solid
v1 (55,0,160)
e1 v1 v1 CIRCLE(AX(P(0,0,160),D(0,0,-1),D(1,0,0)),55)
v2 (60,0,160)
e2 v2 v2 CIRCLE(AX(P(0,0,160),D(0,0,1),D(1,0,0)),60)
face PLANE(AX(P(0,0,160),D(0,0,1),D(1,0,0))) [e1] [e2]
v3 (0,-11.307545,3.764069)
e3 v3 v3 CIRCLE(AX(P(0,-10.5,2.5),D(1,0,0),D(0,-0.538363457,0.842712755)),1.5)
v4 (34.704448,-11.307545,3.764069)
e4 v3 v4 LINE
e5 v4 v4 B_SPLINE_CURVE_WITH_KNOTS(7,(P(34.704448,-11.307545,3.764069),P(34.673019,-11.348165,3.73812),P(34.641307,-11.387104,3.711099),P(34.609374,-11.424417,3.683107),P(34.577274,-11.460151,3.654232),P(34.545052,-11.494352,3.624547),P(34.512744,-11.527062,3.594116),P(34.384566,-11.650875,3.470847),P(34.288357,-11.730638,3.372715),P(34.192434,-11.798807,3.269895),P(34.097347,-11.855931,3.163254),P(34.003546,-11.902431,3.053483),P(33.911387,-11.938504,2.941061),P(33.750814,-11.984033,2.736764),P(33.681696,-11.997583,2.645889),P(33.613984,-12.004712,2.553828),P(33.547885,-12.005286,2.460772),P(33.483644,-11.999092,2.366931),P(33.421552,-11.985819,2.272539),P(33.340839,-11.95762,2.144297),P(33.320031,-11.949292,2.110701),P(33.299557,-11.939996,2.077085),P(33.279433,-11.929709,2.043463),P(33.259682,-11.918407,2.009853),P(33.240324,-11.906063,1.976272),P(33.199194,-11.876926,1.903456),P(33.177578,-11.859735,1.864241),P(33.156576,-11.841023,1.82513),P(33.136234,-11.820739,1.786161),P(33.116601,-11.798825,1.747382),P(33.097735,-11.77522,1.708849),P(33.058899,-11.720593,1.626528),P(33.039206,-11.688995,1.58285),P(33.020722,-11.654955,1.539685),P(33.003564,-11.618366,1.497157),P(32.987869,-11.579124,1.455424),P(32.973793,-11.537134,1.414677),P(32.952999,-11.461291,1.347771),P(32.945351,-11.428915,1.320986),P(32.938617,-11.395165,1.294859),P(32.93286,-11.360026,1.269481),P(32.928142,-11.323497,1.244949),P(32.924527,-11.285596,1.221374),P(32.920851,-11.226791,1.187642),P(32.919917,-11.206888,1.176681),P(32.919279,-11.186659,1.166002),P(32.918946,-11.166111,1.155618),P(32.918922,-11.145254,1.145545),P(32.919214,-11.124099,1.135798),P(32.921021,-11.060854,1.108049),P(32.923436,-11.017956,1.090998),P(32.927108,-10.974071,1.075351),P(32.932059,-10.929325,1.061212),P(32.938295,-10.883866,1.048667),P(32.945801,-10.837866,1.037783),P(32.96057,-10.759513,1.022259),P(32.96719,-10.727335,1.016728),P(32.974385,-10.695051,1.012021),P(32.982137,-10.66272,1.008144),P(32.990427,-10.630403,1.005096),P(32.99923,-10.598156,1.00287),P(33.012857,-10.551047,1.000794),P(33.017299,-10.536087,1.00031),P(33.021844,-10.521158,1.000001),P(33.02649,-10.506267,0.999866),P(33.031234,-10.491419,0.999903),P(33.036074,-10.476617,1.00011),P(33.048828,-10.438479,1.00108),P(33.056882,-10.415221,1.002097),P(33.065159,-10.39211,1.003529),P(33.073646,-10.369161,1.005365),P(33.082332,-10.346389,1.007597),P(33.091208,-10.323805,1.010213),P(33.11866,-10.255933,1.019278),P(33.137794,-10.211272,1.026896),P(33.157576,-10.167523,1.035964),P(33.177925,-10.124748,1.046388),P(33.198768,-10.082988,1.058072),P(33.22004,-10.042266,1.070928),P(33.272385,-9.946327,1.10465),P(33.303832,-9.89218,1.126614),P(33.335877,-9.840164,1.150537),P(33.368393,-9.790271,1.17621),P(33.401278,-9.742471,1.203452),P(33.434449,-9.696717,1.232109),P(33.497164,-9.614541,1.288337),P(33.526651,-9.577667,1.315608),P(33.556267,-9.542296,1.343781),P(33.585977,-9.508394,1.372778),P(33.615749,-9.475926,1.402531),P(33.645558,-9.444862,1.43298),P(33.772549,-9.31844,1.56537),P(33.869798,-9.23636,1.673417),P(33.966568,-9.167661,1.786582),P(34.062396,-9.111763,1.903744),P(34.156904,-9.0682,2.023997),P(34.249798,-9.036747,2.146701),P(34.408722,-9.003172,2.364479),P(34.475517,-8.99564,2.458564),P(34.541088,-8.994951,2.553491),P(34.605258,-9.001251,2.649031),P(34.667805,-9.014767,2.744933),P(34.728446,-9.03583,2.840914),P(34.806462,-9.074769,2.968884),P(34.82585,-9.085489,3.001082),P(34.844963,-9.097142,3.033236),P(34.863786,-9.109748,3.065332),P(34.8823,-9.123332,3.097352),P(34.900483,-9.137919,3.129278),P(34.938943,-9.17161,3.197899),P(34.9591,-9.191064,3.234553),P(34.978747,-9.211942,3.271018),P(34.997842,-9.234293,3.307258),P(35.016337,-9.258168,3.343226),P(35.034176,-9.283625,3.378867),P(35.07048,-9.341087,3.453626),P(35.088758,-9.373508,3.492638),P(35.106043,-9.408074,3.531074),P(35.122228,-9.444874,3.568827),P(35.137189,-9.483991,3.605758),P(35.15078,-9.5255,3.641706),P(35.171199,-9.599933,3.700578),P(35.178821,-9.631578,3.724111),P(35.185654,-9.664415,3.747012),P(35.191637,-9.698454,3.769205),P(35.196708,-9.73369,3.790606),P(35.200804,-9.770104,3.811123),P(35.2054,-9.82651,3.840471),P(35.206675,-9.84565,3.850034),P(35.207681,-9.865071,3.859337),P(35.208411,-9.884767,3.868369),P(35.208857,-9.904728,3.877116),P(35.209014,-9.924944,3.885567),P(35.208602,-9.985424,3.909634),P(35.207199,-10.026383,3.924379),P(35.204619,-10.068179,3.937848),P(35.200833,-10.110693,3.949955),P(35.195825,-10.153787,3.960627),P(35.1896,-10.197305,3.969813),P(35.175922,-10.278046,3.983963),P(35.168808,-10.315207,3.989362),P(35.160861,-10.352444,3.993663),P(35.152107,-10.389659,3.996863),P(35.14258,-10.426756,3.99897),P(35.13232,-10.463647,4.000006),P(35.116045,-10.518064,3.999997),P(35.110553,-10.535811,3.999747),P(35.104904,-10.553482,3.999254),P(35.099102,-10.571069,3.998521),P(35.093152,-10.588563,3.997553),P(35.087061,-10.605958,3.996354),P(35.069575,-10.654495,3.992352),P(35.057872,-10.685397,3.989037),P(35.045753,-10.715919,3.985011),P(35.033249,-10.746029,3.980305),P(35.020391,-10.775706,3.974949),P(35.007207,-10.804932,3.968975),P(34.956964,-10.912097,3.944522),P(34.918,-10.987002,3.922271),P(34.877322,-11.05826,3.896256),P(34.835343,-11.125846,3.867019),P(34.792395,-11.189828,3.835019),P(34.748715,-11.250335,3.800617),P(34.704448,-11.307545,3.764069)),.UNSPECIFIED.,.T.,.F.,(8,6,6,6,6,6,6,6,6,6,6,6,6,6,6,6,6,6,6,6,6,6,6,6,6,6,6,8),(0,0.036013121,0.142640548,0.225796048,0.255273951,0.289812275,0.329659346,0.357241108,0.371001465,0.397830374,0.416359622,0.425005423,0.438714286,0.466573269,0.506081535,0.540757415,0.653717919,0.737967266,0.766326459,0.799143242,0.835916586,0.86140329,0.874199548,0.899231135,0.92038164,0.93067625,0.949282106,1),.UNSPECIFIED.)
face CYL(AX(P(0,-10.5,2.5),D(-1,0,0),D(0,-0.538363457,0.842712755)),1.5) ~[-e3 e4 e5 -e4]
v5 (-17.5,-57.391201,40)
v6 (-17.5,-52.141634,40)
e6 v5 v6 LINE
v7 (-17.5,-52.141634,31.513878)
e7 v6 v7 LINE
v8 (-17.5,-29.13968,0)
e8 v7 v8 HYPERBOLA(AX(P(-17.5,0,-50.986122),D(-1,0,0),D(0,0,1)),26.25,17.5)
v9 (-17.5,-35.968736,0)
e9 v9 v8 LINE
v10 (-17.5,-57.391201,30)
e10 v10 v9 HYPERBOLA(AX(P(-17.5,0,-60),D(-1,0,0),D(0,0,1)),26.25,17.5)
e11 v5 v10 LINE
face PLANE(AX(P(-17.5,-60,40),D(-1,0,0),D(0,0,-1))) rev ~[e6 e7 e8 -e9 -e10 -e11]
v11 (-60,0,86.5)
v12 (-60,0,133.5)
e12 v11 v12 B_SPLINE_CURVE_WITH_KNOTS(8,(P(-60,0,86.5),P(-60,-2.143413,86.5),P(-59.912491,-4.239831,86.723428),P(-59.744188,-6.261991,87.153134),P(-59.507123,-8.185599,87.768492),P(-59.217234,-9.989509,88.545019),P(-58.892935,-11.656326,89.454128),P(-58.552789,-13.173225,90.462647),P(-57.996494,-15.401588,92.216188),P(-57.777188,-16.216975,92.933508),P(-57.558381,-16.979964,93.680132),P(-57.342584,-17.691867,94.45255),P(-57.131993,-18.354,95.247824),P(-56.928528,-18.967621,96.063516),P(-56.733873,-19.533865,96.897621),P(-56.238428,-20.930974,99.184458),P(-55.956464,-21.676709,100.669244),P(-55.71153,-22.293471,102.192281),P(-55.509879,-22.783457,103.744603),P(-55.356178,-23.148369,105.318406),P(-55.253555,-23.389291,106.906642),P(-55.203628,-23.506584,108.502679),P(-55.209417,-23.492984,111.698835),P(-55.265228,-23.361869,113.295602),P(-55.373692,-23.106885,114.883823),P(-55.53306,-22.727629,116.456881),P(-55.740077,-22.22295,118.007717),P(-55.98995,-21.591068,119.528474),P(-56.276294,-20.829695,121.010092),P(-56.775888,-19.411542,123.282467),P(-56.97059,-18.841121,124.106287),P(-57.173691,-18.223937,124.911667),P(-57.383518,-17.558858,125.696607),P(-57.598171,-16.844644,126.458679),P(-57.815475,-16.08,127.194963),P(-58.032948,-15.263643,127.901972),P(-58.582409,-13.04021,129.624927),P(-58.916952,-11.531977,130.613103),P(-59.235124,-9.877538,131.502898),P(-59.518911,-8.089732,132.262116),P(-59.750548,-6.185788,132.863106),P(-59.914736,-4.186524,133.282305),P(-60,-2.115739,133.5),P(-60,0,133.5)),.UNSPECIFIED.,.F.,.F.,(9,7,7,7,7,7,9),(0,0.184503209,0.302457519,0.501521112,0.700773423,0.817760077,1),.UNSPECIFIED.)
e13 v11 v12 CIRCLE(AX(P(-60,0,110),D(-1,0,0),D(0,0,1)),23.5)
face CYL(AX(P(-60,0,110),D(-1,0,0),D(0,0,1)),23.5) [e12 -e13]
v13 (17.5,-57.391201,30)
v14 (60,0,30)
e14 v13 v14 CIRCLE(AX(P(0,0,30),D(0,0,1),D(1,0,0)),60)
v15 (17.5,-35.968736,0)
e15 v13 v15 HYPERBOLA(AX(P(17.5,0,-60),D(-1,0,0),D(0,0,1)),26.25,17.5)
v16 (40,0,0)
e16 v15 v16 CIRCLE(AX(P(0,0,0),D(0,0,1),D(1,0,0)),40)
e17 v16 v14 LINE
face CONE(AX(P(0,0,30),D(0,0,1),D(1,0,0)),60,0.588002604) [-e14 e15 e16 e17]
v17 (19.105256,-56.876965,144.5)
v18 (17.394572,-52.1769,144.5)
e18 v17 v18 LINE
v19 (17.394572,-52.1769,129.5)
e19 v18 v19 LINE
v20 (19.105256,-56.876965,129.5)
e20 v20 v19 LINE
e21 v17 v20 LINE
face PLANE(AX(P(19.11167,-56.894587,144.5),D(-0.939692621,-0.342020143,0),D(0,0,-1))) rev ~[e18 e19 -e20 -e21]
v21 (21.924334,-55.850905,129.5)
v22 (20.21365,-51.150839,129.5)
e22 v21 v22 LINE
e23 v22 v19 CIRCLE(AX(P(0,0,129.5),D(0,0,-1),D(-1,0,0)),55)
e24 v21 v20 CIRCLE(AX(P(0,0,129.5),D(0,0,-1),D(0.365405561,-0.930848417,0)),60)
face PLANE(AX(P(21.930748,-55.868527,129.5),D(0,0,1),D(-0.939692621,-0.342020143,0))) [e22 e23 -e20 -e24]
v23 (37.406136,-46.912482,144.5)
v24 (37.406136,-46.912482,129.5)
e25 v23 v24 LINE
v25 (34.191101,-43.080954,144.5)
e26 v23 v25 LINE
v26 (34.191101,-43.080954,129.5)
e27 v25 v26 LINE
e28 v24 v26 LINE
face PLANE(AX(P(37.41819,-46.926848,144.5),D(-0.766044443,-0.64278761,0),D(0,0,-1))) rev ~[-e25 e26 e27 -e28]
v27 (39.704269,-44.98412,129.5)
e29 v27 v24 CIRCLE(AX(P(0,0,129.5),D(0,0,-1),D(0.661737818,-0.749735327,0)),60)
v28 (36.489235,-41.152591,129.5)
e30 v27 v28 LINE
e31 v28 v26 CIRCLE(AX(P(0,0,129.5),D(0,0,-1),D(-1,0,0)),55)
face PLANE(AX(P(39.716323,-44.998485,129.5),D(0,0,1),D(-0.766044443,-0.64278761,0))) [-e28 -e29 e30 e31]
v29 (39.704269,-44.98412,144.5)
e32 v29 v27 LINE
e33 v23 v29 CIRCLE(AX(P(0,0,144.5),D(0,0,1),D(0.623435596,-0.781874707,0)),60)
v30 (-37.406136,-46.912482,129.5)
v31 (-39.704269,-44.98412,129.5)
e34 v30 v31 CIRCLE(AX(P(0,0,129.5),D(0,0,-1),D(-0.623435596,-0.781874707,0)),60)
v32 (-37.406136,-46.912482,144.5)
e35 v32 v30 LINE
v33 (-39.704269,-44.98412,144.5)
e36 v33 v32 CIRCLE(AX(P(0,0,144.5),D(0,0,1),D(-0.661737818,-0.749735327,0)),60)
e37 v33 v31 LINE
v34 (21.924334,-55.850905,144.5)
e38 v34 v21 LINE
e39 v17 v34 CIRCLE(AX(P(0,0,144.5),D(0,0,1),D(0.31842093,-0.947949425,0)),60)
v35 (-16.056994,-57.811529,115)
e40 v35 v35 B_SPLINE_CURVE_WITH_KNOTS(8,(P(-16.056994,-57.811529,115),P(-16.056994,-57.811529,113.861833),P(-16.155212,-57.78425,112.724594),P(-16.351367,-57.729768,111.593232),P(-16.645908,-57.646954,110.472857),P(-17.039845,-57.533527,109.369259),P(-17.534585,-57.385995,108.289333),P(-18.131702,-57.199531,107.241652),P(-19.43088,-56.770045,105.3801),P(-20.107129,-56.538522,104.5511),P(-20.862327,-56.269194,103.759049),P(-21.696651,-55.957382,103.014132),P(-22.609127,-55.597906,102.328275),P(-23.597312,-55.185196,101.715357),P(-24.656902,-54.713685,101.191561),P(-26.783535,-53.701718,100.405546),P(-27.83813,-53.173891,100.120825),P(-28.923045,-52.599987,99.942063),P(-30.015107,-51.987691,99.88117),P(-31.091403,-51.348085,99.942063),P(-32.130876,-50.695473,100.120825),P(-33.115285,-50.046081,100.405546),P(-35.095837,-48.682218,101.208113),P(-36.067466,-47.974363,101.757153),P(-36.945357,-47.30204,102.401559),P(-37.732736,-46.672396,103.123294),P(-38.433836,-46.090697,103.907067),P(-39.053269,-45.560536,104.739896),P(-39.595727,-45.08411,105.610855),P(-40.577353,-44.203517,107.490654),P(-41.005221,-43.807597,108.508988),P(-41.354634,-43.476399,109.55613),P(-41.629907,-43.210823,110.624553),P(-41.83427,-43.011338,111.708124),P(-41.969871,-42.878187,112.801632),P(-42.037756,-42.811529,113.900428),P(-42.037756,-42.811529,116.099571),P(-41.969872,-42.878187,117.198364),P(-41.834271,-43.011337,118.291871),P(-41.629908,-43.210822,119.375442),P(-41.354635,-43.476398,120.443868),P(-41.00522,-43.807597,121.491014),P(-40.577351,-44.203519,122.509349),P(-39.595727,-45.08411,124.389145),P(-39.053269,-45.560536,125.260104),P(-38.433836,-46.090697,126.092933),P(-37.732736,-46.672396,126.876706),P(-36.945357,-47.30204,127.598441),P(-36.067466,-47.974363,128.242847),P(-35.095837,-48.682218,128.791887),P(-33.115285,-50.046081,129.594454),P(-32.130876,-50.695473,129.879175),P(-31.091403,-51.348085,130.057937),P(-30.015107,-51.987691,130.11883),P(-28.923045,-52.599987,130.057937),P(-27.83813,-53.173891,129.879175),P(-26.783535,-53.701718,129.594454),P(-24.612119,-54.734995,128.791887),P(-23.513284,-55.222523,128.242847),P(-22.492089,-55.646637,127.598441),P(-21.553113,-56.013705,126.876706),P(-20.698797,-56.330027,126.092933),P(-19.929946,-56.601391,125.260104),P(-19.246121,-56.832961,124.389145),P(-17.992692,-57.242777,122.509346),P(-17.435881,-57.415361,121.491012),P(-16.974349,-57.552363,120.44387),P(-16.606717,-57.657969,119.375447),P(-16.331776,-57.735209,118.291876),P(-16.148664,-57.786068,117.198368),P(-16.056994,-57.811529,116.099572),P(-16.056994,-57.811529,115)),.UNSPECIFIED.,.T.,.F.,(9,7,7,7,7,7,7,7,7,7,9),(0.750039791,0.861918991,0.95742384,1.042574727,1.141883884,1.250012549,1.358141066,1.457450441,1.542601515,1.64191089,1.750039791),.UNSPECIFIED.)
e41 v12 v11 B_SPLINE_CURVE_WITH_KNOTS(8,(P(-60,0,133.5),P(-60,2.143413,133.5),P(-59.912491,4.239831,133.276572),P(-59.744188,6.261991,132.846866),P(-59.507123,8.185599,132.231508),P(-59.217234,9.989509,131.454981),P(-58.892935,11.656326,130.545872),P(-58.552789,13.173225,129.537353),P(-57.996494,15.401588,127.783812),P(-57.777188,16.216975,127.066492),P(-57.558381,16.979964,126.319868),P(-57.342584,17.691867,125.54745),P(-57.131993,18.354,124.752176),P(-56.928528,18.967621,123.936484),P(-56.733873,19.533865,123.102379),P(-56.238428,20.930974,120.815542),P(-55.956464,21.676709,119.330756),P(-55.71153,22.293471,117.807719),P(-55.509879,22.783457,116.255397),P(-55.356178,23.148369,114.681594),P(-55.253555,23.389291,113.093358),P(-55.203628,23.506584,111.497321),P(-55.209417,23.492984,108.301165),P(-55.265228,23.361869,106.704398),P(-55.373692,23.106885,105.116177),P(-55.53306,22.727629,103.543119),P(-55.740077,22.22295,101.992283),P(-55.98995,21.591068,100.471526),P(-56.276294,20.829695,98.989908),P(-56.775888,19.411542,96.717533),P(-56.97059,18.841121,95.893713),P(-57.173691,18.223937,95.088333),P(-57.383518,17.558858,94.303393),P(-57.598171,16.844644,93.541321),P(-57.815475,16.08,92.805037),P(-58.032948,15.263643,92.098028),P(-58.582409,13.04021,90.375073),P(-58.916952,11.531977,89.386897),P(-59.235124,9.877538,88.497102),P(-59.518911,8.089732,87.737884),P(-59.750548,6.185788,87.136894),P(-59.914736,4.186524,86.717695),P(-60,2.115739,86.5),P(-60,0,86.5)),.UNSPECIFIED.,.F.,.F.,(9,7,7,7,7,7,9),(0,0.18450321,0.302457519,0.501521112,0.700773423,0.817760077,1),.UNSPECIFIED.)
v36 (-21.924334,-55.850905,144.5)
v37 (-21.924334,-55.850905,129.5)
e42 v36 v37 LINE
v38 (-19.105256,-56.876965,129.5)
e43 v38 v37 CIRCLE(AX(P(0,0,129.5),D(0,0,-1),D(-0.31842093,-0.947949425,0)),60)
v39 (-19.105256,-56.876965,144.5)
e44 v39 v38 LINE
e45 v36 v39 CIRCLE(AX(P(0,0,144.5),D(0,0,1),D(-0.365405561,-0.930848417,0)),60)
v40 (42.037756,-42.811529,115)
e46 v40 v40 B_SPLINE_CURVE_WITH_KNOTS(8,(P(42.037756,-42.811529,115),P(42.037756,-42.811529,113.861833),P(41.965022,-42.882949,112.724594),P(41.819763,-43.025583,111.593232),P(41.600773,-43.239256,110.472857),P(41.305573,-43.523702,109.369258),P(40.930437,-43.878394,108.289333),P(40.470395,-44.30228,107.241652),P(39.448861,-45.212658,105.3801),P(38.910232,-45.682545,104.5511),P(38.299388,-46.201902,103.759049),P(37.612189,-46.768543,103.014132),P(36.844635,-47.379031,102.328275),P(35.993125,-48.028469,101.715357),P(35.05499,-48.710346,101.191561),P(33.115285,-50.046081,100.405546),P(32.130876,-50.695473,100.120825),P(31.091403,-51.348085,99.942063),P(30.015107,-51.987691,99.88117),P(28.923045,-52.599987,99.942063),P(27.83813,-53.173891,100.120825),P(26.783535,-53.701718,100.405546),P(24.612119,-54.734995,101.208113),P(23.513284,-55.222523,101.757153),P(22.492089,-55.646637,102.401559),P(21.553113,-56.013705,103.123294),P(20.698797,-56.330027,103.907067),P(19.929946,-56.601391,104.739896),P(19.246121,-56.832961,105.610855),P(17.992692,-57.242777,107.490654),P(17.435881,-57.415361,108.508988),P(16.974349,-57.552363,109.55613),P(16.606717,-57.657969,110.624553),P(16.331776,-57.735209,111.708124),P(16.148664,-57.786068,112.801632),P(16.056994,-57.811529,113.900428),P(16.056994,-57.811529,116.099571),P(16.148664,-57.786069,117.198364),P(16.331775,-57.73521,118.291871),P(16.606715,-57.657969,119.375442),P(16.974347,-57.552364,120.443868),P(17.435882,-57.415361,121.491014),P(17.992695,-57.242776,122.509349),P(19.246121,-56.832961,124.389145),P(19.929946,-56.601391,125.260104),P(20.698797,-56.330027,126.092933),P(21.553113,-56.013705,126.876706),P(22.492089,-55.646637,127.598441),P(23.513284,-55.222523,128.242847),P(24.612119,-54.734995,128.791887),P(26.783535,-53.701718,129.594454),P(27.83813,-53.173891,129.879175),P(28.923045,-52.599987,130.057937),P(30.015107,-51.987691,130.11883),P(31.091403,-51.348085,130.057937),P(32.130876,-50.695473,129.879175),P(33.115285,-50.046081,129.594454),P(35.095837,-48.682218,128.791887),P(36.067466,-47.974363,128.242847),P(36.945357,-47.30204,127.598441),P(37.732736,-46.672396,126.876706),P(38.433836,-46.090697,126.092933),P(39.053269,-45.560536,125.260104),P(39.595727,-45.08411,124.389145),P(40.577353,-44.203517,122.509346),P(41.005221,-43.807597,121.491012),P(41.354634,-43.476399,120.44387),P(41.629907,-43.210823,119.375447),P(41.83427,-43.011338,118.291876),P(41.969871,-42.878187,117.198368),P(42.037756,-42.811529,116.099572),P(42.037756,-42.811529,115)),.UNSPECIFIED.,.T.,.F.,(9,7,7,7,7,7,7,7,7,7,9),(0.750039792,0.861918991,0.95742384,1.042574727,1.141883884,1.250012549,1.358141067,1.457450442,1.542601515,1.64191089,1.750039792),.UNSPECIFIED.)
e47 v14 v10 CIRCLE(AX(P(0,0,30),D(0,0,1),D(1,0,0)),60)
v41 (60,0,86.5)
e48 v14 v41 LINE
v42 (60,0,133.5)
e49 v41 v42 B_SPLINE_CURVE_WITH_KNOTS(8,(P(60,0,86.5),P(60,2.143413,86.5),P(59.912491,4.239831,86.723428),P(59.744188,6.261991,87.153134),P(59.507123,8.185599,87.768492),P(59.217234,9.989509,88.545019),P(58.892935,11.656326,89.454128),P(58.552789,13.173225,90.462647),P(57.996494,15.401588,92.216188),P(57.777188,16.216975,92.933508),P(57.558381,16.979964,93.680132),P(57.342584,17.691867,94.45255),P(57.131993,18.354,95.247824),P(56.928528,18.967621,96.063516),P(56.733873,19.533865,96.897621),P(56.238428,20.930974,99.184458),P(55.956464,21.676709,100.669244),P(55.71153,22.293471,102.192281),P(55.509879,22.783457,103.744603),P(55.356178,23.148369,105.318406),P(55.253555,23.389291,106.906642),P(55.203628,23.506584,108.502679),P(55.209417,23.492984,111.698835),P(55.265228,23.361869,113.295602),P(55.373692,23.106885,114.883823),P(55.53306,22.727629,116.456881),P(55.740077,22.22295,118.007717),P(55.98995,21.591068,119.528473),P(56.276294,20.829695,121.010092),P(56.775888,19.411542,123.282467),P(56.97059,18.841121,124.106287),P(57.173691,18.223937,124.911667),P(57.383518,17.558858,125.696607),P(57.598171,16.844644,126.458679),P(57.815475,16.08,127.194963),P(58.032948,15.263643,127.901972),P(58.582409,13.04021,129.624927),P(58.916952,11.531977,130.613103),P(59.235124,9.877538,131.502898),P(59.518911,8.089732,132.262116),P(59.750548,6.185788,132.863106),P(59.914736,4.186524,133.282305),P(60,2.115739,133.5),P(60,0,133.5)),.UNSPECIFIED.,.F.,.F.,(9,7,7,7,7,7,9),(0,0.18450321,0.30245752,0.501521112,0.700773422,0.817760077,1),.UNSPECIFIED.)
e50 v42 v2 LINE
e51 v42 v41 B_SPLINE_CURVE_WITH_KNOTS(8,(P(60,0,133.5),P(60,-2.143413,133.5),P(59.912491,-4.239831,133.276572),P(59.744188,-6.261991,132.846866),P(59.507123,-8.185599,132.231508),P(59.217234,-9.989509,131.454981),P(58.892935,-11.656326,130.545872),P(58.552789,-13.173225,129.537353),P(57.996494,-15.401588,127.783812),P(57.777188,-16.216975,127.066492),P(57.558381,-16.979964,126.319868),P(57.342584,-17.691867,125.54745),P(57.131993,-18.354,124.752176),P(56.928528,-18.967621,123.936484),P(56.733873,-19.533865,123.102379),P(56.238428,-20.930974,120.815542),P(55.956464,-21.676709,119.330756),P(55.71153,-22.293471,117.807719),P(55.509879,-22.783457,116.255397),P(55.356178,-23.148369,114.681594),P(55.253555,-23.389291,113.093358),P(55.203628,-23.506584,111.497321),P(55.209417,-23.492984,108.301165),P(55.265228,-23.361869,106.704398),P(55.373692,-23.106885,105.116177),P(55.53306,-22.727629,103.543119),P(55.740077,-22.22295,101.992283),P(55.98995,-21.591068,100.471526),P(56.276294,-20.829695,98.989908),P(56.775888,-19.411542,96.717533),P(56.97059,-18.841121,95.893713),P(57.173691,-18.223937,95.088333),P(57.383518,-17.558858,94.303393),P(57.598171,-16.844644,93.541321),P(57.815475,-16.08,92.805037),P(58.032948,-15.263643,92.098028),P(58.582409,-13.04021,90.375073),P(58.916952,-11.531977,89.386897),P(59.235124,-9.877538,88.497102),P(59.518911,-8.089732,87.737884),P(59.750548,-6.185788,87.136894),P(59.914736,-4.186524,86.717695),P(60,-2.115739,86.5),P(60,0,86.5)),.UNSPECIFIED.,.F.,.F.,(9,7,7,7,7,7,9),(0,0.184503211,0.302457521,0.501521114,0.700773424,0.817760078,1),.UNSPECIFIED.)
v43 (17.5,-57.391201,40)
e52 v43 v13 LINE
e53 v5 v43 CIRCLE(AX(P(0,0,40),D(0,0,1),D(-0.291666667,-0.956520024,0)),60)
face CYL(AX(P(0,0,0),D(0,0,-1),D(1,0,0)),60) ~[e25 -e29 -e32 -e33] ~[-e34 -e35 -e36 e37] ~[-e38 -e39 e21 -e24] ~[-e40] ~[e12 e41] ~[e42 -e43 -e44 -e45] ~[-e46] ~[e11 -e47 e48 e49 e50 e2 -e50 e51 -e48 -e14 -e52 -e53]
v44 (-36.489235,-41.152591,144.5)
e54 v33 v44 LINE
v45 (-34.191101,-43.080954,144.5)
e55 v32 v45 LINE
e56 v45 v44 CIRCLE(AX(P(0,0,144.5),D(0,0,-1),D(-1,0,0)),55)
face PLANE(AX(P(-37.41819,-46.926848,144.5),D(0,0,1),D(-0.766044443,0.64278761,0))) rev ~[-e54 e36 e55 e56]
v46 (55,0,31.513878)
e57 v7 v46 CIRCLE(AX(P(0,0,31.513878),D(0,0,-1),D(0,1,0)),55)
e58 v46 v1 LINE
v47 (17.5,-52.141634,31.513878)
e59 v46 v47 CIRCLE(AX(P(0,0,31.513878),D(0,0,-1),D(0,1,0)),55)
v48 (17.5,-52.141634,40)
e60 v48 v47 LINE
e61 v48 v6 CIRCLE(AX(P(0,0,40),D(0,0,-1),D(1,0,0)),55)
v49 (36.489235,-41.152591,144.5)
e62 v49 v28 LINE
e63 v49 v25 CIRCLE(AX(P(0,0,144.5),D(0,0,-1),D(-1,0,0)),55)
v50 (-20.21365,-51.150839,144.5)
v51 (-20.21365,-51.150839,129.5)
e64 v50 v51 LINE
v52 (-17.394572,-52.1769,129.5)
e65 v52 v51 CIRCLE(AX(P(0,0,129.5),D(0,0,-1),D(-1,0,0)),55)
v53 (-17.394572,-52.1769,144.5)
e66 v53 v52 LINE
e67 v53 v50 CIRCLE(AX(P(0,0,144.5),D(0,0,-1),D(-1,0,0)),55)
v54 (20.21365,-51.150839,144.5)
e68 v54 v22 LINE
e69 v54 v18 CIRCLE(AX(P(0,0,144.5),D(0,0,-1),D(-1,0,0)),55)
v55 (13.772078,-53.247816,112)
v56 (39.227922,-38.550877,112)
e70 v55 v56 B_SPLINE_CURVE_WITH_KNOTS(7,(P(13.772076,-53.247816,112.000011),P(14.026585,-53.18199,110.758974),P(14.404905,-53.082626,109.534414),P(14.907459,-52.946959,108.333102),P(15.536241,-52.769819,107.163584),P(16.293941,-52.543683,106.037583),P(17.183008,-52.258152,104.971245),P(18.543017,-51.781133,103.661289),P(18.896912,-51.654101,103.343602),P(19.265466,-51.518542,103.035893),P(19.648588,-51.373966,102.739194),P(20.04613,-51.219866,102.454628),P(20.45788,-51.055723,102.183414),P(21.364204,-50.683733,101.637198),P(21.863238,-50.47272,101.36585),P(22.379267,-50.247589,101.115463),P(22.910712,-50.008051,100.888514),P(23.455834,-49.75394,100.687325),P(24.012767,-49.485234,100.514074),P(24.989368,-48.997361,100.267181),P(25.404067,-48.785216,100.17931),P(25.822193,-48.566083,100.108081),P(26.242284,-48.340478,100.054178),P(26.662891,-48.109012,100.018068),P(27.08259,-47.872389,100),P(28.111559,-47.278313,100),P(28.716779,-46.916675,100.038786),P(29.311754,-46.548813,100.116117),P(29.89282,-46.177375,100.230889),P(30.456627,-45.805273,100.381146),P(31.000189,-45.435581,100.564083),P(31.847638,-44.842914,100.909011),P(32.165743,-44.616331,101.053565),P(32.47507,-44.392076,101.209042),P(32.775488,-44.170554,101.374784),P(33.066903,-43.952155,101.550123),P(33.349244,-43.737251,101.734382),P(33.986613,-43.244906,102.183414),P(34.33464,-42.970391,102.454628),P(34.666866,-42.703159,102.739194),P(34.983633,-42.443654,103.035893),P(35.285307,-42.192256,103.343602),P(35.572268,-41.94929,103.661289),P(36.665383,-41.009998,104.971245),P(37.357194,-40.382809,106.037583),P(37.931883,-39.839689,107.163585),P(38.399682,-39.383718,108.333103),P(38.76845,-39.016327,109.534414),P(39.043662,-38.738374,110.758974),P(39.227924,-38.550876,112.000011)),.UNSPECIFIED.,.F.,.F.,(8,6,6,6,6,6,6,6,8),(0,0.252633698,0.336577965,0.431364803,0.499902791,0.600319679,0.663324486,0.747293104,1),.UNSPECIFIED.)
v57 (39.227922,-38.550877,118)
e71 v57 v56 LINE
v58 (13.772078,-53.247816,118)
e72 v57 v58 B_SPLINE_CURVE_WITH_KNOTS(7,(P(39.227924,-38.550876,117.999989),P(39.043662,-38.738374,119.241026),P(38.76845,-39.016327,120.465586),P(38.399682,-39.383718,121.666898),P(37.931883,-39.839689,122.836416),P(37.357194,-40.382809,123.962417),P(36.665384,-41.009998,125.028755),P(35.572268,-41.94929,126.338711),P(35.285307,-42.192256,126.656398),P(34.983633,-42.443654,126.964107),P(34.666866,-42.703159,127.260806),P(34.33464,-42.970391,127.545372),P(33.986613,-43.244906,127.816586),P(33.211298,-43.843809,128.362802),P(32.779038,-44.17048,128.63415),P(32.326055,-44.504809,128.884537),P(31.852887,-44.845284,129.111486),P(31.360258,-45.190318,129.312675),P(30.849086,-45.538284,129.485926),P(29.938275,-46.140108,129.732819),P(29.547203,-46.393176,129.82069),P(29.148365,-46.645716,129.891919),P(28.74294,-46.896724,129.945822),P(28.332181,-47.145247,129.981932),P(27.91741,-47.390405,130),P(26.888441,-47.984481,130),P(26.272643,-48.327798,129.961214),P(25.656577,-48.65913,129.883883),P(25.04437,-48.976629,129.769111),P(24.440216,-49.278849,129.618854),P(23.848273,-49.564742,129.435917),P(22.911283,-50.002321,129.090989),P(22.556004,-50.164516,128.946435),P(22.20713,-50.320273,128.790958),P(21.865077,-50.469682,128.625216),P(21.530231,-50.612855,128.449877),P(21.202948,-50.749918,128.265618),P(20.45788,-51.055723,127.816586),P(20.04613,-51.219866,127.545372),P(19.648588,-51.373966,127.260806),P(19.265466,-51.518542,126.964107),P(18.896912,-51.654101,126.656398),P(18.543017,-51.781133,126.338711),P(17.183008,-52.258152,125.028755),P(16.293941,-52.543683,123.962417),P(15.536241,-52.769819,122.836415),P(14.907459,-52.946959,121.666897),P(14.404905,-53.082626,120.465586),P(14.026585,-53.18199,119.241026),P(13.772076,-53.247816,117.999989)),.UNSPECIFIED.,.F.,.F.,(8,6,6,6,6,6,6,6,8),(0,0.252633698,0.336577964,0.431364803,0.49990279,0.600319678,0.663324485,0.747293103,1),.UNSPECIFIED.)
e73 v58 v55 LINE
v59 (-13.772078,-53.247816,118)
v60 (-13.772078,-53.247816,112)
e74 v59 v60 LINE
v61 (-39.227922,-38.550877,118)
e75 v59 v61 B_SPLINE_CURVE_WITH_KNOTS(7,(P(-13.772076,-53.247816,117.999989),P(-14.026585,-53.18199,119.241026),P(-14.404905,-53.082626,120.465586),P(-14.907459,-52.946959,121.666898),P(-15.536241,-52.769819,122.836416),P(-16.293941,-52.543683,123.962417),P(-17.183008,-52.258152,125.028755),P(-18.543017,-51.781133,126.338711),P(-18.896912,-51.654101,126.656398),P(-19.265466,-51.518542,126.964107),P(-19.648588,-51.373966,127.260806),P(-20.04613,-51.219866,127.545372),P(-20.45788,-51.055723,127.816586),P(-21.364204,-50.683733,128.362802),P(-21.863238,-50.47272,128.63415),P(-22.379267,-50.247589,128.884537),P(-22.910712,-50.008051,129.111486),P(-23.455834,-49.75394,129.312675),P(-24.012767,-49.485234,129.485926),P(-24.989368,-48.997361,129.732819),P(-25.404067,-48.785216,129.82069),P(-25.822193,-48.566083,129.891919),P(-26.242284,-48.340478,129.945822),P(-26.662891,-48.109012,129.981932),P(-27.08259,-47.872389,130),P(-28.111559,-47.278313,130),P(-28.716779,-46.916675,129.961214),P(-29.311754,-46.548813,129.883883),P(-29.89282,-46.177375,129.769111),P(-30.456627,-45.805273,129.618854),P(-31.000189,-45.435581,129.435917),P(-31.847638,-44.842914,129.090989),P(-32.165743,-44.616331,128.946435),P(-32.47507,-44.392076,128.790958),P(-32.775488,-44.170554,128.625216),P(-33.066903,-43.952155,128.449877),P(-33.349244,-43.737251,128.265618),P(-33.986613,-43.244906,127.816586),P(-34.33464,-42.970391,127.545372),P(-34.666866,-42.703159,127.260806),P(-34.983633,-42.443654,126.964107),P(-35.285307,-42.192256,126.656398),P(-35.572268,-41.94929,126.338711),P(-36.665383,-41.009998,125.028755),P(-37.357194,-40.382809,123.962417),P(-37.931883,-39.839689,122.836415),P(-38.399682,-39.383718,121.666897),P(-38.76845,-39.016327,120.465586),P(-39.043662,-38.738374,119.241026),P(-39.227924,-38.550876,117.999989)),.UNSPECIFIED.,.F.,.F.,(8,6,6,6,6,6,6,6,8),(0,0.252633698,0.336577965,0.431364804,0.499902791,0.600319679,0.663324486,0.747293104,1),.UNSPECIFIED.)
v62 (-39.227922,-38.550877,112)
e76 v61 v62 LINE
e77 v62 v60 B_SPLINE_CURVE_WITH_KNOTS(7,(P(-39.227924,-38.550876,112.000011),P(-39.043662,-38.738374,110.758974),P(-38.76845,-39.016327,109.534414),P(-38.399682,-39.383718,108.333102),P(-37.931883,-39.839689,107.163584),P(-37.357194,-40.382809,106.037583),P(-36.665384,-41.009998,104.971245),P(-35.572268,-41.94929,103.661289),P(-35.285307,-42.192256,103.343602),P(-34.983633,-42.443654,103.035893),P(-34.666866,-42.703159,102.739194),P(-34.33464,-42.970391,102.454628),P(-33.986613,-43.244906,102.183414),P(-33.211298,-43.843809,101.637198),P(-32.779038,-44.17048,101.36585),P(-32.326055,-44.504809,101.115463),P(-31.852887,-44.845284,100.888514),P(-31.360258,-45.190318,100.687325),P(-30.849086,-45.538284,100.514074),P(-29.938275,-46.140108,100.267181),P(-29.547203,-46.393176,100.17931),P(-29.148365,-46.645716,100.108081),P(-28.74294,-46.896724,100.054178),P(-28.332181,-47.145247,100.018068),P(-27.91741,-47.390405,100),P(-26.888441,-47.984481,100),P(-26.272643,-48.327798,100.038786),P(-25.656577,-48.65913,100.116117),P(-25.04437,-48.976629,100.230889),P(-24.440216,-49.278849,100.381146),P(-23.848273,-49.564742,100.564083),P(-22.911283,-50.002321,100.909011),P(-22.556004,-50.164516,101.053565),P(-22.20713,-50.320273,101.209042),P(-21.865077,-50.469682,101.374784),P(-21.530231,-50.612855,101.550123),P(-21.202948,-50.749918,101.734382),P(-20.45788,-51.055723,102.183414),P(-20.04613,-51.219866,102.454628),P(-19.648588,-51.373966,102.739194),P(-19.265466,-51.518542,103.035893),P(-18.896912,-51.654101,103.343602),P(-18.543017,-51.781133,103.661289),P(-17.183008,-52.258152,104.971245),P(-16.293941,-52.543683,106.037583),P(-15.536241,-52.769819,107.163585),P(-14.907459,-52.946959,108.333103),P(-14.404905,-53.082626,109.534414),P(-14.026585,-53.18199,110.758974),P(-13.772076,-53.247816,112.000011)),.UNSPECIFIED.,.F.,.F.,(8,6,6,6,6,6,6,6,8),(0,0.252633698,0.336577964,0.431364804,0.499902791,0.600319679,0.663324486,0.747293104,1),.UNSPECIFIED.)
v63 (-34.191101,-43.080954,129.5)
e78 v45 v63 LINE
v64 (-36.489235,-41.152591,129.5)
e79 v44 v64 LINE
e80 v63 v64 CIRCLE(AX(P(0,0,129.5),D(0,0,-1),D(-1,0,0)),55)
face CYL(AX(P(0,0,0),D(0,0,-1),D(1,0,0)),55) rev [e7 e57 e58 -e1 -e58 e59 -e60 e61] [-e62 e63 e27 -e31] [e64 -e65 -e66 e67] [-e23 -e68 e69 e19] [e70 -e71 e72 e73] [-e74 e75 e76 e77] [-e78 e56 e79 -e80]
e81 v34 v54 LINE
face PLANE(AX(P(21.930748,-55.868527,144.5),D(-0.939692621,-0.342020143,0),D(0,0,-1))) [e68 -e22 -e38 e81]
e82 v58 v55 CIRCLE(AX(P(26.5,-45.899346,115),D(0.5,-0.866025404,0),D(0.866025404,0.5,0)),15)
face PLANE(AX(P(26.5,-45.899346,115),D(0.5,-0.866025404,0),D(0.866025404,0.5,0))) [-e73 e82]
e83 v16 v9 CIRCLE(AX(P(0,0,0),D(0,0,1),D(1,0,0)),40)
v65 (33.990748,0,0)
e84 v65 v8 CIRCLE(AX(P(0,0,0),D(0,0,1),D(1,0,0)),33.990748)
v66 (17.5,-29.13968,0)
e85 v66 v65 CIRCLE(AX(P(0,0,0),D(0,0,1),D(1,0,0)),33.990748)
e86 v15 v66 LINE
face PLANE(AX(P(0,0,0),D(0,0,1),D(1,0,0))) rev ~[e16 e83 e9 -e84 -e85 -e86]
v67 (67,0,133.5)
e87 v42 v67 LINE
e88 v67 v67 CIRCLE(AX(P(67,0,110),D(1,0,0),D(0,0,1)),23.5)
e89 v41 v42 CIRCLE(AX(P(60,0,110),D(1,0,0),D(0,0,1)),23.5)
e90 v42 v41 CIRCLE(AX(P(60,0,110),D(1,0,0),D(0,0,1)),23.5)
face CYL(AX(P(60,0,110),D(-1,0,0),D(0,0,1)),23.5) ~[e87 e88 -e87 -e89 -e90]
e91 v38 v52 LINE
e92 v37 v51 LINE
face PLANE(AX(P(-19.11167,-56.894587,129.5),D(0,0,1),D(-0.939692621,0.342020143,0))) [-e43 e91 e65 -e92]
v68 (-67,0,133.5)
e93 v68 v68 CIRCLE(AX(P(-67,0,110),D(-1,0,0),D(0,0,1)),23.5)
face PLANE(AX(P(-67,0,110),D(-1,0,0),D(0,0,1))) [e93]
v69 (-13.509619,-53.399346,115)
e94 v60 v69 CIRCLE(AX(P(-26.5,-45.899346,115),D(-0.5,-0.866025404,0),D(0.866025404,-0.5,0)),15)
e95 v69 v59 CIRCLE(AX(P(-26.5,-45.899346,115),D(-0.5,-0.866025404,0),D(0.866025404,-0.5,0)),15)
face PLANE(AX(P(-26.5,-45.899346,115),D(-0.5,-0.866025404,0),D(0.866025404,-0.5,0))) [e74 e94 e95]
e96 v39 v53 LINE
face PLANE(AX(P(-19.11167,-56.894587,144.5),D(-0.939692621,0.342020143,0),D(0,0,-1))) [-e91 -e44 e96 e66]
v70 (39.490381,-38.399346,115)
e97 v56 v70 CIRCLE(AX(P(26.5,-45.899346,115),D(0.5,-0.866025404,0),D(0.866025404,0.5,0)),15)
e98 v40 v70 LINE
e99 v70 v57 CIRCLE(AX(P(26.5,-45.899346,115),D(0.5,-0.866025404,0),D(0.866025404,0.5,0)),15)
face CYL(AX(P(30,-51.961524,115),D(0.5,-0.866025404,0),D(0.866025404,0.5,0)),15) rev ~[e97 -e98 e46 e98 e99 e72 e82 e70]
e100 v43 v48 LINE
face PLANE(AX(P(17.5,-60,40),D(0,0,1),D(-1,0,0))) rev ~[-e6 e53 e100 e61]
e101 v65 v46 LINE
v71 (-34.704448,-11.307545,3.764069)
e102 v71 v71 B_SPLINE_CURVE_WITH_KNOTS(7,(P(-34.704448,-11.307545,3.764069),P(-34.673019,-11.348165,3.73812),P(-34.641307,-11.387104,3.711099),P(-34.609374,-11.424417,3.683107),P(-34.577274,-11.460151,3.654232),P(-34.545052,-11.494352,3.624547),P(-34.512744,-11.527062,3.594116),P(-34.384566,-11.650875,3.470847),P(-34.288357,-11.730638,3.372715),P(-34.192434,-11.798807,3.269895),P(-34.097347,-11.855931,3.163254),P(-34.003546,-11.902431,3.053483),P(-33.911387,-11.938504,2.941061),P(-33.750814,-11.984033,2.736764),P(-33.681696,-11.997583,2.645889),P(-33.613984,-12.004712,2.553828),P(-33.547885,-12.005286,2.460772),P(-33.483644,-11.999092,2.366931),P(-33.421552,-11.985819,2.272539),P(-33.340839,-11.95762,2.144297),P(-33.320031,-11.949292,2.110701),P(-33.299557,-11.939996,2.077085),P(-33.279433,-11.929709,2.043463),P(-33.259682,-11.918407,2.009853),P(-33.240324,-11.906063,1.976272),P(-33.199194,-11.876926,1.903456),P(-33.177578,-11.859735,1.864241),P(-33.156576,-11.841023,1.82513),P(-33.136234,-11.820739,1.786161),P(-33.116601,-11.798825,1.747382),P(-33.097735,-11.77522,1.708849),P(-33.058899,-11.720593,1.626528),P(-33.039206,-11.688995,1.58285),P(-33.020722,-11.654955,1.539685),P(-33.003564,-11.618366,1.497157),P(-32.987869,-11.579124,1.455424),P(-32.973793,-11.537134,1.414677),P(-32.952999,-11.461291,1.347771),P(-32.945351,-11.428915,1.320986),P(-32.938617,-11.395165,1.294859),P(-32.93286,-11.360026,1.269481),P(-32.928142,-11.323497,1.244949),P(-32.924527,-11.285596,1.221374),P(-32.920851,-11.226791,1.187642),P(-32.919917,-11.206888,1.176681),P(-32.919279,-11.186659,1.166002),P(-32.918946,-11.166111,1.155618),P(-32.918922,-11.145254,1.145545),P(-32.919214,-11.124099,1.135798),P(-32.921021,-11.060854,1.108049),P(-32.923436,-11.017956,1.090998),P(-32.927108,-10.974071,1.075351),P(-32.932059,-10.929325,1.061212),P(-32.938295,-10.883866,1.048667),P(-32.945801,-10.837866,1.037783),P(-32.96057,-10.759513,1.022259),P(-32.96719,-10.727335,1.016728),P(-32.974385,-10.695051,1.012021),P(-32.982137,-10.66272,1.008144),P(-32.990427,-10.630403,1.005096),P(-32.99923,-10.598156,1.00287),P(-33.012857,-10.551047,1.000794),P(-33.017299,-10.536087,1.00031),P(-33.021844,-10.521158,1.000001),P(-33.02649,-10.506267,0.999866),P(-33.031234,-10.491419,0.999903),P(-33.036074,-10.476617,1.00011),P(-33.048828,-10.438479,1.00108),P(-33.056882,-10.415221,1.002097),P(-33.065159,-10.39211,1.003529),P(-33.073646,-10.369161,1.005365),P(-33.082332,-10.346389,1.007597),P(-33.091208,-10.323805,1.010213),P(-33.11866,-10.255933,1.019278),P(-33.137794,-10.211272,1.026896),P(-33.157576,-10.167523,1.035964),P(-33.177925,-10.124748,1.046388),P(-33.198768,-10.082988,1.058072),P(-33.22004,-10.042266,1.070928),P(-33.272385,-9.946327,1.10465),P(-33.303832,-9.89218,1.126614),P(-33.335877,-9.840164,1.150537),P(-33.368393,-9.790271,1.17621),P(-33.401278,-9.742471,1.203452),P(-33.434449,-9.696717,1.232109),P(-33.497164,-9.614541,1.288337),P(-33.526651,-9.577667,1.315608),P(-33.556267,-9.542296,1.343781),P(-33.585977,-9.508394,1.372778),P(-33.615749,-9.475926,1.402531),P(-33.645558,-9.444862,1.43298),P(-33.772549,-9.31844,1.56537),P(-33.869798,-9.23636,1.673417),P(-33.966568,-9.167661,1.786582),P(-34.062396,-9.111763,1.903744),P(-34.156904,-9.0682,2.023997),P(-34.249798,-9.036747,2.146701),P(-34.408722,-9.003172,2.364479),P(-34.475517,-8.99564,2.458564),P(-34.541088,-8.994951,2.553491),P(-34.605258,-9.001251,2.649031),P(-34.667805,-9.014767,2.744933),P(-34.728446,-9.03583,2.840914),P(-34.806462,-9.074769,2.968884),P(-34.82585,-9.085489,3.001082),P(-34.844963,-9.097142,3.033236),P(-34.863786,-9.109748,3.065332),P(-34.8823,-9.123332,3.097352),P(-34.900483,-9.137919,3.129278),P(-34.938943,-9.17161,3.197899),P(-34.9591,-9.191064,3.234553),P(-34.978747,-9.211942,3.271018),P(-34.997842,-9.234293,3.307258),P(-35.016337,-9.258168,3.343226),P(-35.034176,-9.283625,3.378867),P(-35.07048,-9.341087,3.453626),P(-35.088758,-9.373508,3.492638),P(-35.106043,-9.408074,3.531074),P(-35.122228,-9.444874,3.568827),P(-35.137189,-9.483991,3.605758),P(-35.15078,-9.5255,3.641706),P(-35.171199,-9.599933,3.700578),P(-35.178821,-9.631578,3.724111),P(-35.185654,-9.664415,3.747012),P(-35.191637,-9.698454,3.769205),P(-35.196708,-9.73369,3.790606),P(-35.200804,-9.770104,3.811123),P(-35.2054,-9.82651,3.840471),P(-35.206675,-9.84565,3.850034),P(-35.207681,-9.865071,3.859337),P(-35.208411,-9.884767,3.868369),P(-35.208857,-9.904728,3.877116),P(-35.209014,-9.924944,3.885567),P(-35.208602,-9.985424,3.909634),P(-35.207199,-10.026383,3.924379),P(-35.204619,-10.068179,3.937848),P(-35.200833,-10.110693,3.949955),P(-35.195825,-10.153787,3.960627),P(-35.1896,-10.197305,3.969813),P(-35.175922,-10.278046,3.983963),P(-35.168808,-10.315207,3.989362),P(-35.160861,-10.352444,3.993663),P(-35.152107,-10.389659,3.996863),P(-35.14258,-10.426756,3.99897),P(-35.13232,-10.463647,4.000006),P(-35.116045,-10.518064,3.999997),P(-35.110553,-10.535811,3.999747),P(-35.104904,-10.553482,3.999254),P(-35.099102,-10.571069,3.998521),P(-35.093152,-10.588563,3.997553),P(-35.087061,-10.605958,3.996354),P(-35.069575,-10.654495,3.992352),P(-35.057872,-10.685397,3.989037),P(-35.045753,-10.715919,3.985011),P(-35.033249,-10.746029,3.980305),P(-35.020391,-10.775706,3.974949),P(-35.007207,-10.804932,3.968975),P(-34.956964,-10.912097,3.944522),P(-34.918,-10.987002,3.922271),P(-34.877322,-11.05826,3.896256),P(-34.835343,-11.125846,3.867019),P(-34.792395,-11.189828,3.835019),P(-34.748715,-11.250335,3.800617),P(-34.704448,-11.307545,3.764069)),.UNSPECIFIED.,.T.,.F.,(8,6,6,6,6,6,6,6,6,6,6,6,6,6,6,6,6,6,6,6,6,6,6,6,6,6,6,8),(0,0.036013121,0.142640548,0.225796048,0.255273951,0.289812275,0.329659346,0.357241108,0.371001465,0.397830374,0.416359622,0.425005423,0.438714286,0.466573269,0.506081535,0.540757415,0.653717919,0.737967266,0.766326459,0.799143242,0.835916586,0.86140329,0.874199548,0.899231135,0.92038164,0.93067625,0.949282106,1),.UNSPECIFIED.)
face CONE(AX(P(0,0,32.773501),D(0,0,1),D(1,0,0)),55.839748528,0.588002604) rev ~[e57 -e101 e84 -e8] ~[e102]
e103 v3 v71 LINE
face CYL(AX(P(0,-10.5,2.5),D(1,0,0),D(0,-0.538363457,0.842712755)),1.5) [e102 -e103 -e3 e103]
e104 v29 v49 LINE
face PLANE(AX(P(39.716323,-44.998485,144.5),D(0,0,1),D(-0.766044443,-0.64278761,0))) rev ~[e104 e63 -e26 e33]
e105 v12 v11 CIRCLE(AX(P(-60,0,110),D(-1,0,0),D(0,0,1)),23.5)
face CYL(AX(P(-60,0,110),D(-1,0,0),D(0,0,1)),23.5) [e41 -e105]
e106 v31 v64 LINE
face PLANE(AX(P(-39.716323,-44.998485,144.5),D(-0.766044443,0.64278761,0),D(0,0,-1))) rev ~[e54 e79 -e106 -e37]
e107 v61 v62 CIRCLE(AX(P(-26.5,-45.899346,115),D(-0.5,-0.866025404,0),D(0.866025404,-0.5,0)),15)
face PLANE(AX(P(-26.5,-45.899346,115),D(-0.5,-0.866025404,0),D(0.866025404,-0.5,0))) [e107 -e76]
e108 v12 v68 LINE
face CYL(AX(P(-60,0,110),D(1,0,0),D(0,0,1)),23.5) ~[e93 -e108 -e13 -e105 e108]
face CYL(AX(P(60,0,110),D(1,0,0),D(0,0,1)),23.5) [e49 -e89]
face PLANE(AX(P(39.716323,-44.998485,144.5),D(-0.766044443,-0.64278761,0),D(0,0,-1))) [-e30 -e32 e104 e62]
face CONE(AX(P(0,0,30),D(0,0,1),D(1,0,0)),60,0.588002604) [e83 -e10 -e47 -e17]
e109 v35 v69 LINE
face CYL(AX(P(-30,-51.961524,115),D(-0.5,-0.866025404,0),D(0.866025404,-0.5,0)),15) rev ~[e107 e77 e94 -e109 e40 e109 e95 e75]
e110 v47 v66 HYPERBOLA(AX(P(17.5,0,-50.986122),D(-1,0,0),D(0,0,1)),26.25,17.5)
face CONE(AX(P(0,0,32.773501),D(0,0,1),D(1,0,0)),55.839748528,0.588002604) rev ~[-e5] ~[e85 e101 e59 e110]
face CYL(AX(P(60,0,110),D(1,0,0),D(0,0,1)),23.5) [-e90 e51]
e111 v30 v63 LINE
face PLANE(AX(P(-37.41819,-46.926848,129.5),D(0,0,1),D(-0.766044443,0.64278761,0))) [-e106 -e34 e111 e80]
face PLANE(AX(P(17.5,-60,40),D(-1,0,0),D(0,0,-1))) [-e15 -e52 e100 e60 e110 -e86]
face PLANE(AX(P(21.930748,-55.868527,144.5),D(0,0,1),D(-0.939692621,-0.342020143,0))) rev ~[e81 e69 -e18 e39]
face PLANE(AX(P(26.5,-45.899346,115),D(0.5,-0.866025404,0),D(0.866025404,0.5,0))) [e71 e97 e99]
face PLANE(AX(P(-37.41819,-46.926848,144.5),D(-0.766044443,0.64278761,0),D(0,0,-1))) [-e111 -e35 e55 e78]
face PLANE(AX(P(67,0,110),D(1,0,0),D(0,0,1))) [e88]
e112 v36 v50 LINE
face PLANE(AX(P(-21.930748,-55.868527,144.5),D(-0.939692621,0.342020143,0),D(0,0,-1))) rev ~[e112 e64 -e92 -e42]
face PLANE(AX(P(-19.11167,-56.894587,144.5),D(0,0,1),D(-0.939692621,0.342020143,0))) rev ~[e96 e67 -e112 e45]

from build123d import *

# Parameters (mm, degrees)
SKETCH1_R                            = 60
BOSS_EXTRUDE1_DEPTH                  = 160
CHAMFER1_SIZE                        = 20
CHAMFER1_SIZE2                       = 30
SHELL2_T                             = -5
SKETCH7_R                            = 15
CUT_EXTRUDE1_DEPTH                   = 7
SKETCH8_R                            = 15
CUT_EXTRUDE2_DEPTH                   = 7
SKETCH9_R                            = 23.5
BOSS_EXTRUDE2_DEPTH                  = 7
BOSS_EXTRUDE2_DIRECTION_2_REACH      = 210.806
BOSS_EXTRUDE2_DIRECTION_2_END_RADIUS = 60
SKETCH10_R                           = 23.5
BOSS_EXTRUDE3_DEPTH                  = 7
BOSS_EXTRUDE3_DIRECTION_2_REACH      = 214.906
BOSS_EXTRUDE3_DIRECTION_2_END_RADIUS = 60
SKETCH12_W                           = 35
SKETCH12_H                           = 40
CUT_EXTRUDE3_DEPTH                   = 32
CUT_EXTRUDE4_REACH                   = 221.026
CUT_EXTRUDE4_END_RADIUS              = 55
SKETCH14_W                           = 3
SKETCH14_H                           = 15
CUT_EXTRUDE5_REACH                   = 218.344
CUT_EXTRUDE5_END_RADIUS              = 55
SKETCH15_W                           = 3
SKETCH15_H                           = 15
CUT_EXTRUDE6_REACH                   = 218.344
CUT_EXTRUDE6_END_RADIUS              = 55
SKETCH16_W                           = 3
SKETCH16_H                           = 15
CUT_EXTRUDE7_REACH                   = 221.026
CUT_EXTRUDE7_END_RADIUS              = 55
SKETCH17_W                           = 3
SKETCH17_H                           = 15
BOSS_EXTRUDE5_REACH                  = 185.546
SKETCH18_R                           = 1.5
BOSS_EXTRUDE5_DIRECTION_2_REACH      = 185.546


with BuildPart() as part:
    # Sketch1 → Boss-Extrude1 (new body)
    with BuildSketch(Plane.XY):
        Circle(SKETCH1_R)
    extrude(amount=BOSS_EXTRUDE1_DEPTH)

    # Chamfer1
    chamfer1_edges = [part.edges().sort_by_distance(p)[0] for p in [
        (-60, 0, 0),
    ]]
    chamfer1_side = [part.faces().sort_by_distance(p)[0] for p in [
        (0, 0, 0),
    ]]
    chamfer(chamfer1_edges, length=CHAMFER1_SIZE, length2=CHAMFER1_SIZE2, reference=chamfer1_side[0])

    # Shell2
    shell2_openings = [part.faces().sort_by_distance(p)[0] for p in [
        (0, 0, 160),
        (0, 0, 0),
    ]]
    offset(amount=SHELL2_T, openings=shell2_openings, kind=Kind.INTERSECTION)

    # Sketch7 → Cut-Extrude1 (cut)
    with BuildSketch(Plane(origin=(-30, -51.961524227, 0), x_dir=(-0.866025403784438, 0.5000000000000011, 0), z_dir=(-0.5000000000000011, -0.866025403784438, 0))):
        with Locations(Location((0, -115, 0), (0, 0, 180))):
            Circle(SKETCH7_R)
    extrude(amount=-CUT_EXTRUDE1_DEPTH, mode=Mode.SUBTRACT)

    # Sketch8 → Cut-Extrude2 (cut)
    with BuildSketch(Plane(origin=(30, -51.961524227, 0), x_dir=(-0.8660254037844451, -0.4999999999999888, 0), z_dir=(0.4999999999999888, -0.8660254037844451, 0))):
        with Locations(Location((0, -115, 0), (0, 0, 180))):
            Circle(SKETCH8_R)
    extrude(amount=-CUT_EXTRUDE2_DEPTH, mode=Mode.SUBTRACT)

    # Sketch9 → Boss-Extrude2 (add)
    with BuildSketch(Plane.ZY.offset(60)):
        with Locations((110, 0)):
            Circle(SKETCH9_R)
    extrude(amount=BOSS_EXTRUDE2_DEPTH)

    # Boss-Extrude2 direction 2: up to this cylinder (the profile starts outside it)
    boss_extrude2_direction_2_end = Plane(origin=(0, 0, 110), z_dir=(0, 0, -1)) * Cylinder(BOSS_EXTRUDE2_DIRECTION_2_END_RADIUS, 542.612, mode=Mode.PRIVATE)
    # Sketch9 → Boss-Extrude2 direction 2 (add, up to the surface)
    with BuildSketch(Plane.ZY.offset(60), mode=Mode.PRIVATE) as boss_extrude2_direction_2_sk1:
        with Locations((110, 0)):
            Circle(SKETCH9_R)
    boss_extrude2_direction_2_tool1 = extrude(boss_extrude2_direction_2_sk1.sketch, amount=-BOSS_EXTRUDE2_DIRECTION_2_REACH, mode=Mode.PRIVATE) - boss_extrude2_direction_2_end
    add(boss_extrude2_direction_2_tool1.solids().sort_by_distance((-60, 0, 110))[0])
    add(boss_extrude2_direction_2_tool1.solids().sort_by_distance((-60, 0, 110))[1])

    # Sketch10 → Boss-Extrude3 (add)
    with BuildSketch(Plane(origin=(60, 0, 0), x_dir=(0, 0, -1), z_dir=(1, 0, 0))):
        with Locations(Location((-110, 0, 0), (0, 0, 180))):
            Circle(SKETCH10_R)
    extrude(amount=BOSS_EXTRUDE3_DEPTH)

    # Boss-Extrude3 direction 2: up to this cylinder (the profile starts outside it)
    boss_extrude3_direction_2_end = Plane(origin=(0, 0, 110), z_dir=(0, 0, -1)) * Cylinder(BOSS_EXTRUDE3_DIRECTION_2_END_RADIUS, 550.812, mode=Mode.PRIVATE)
    # Sketch10 → Boss-Extrude3 direction 2 (add, up to the surface)
    with BuildSketch(Plane(origin=(60, 0, 0), x_dir=(0, 0, -1), z_dir=(1, 0, 0)), mode=Mode.PRIVATE) as boss_extrude3_direction_2_sk1:
        with Locations(Location((-110, 0, 0), (0, 0, 180))):
            Circle(SKETCH10_R)
    boss_extrude3_direction_2_tool1 = extrude(boss_extrude3_direction_2_sk1.sketch, amount=-BOSS_EXTRUDE3_DIRECTION_2_REACH, mode=Mode.PRIVATE) - boss_extrude3_direction_2_end
    add(boss_extrude3_direction_2_tool1.solids().sort_by_distance((60, 0, 110))[0])
    add(boss_extrude3_direction_2_tool1.solids().sort_by_distance((60, 0, 110))[1])

    # Sketch12 → Cut-Extrude3 (cut)
    with BuildSketch(Plane(origin=(0, -60, 0), x_dir=(-1, 0, 0), z_dir=(0, -1, 0))):
        with Locations((0, -20)):
            Rectangle(SKETCH12_W, SKETCH12_H)
    extrude(amount=-CUT_EXTRUDE3_DEPTH, mode=Mode.SUBTRACT)

    # Cut-Extrude4: up to this cylinder (the profile starts outside it)
    cut_extrude4_end = Plane(origin=(0, 0, 137), z_dir=(0, 0, -1)) * Cylinder(CUT_EXTRUDE4_END_RADIUS, 553.052, mode=Mode.PRIVATE)
    # Sketch14 → Cut-Extrude4 (cut, up to the surface)
    with BuildSketch(Plane(origin=(38.567256581, -45.962666587, 0), x_dir=(-0.7660444431189859, -0.6427876096865299, 0), z_dir=(0.6427876096865299, -0.7660444431189859, 0)), mode=Mode.PRIVATE) as cut_extrude4_sk1:
        with Locations((0, -137)):
            Rectangle(SKETCH14_W, SKETCH14_H)
    cut_extrude4_tool1 = extrude(cut_extrude4_sk1.sketch, amount=-CUT_EXTRUDE4_REACH, mode=Mode.PRIVATE) - cut_extrude4_end
    add(cut_extrude4_tool1.solids().sort_by_distance((38.567257, -45.962667, 137))[0], mode=Mode.SUBTRACT)

    # Cut-Extrude5: up to this cylinder (the profile starts outside it)
    cut_extrude5_end = Plane(origin=(0, 0, 137), z_dir=(0, 0, -1)) * Cylinder(CUT_EXTRUDE5_END_RADIUS, 547.688, mode=Mode.PRIVATE)
    # Sketch15 → Cut-Extrude5 (cut, up to the surface)
    with BuildSketch(Plane(origin=(20.5212086, -56.381557247, 0), x_dir=(-0.9396926207859128, -0.3420201433256568, 0), z_dir=(0.3420201433256568, -0.9396926207859128, 0)), mode=Mode.PRIVATE) as cut_extrude5_sk1:
        with Locations((0, -137)):
            Rectangle(SKETCH15_W, SKETCH15_H)
    cut_extrude5_tool1 = extrude(cut_extrude5_sk1.sketch, amount=-CUT_EXTRUDE5_REACH, mode=Mode.PRIVATE) - cut_extrude5_end
    add(cut_extrude5_tool1.solids().sort_by_distance((20.521209, -56.381557, 137))[0], mode=Mode.SUBTRACT)

    # Cut-Extrude6: up to this cylinder (the profile starts outside it)
    cut_extrude6_end = Plane(origin=(0, 0, 137), z_dir=(0, 0, -1)) * Cylinder(CUT_EXTRUDE6_END_RADIUS, 547.688, mode=Mode.PRIVATE)
    # Sketch16 → Cut-Extrude6 (cut, up to the surface)
    with BuildSketch(Plane(origin=(-20.5212086, -56.381557247, 0), x_dir=(-0.9396926207859082, 0.3420201433256693, 0), z_dir=(-0.3420201433256693, -0.9396926207859082, 0)), mode=Mode.PRIVATE) as cut_extrude6_sk1:
        with Locations((0, -137)):
            Rectangle(SKETCH16_W, SKETCH16_H)
    cut_extrude6_tool1 = extrude(cut_extrude6_sk1.sketch, amount=-CUT_EXTRUDE6_REACH, mode=Mode.PRIVATE) - cut_extrude6_end
    add(cut_extrude6_tool1.solids().sort_by_distance((-20.521209, -56.381557, 137))[0], mode=Mode.SUBTRACT)

    # Cut-Extrude7: up to this cylinder (the profile starts outside it)
    cut_extrude7_end = Plane(origin=(0, 0, 137), z_dir=(0, 0, -1)) * Cylinder(CUT_EXTRUDE7_END_RADIUS, 553.052, mode=Mode.PRIVATE)
    # Sketch17 → Cut-Extrude7 (cut, up to the surface)
    with BuildSketch(Plane(origin=(-38.567256581, -45.962666587, 0), x_dir=(-0.7660444431189771, 0.6427876096865406, 0), z_dir=(-0.6427876096865405, -0.766044443118977, 0)), mode=Mode.PRIVATE) as cut_extrude7_sk1:
        with Locations((0, -137)):
            Rectangle(SKETCH17_W, SKETCH17_H)
    cut_extrude7_tool1 = extrude(cut_extrude7_sk1.sketch, amount=-CUT_EXTRUDE7_REACH, mode=Mode.PRIVATE) - cut_extrude7_end
    add(cut_extrude7_tool1.solids().sort_by_distance((-38.567257, -45.962667, 137))[0], mode=Mode.SUBTRACT)

    # Boss-Extrude5: up to this cone (the profile starts inside it)
    boss_extrude5_end = Plane(origin=(0, 0, 2.5), z_dir=(0, 0, 1)).offset(-53.486120811) * Cone(1e-06, 183.459690901, 275.189535352, align=(Align.CENTER, Align.CENTER, Align.MIN), mode=Mode.PRIVATE)
    # Sketch18 → Boss-Extrude5 (add, up to the surface)
    with BuildSketch(Plane(origin=(0, 0, 0), x_dir=(0, 0, -1), z_dir=(1, 0, 0)), mode=Mode.PRIVATE) as boss_extrude5_sk1:
        with Locations(Location((-2.5, -10.5, 0), (0, 0, 212.572301633))):
            Circle(SKETCH18_R)
    boss_extrude5_tool1 = extrude(boss_extrude5_sk1.sketch, amount=BOSS_EXTRUDE5_REACH, mode=Mode.PRIVATE) & boss_extrude5_end
    add(boss_extrude5_tool1.solids().sort_by_distance((0, -10.5, 2.5))[0])

    # Boss-Extrude5 direction 2: up to this cone (the profile starts inside it)
    boss_extrude5_direction_2_end = Plane(origin=(0, 0, 2.5), z_dir=(0, 0, 1)).offset(-53.486120811) * Cone(1e-06, 183.459690901, 275.189535352, align=(Align.CENTER, Align.CENTER, Align.MIN), mode=Mode.PRIVATE)
    # Sketch18 → Boss-Extrude5 direction 2 (add, up to the surface)
    with BuildSketch(Plane(origin=(0, 0, 0), x_dir=(0, 0, -1), z_dir=(1, 0, 0)), mode=Mode.PRIVATE) as boss_extrude5_direction_2_sk1:
        with Locations(Location((-2.5, -10.5, 0), (0, 0, 212.572301633))):
            Circle(SKETCH18_R)
    boss_extrude5_direction_2_tool1 = extrude(boss_extrude5_direction_2_sk1.sketch, amount=-BOSS_EXTRUDE5_DIRECTION_2_REACH, mode=Mode.PRIVATE) & boss_extrude5_direction_2_end
    add(boss_extrude5_direction_2_tool1.solids().sort_by_distance((0, -10.5, 2.5))[0])


solid = part.part
